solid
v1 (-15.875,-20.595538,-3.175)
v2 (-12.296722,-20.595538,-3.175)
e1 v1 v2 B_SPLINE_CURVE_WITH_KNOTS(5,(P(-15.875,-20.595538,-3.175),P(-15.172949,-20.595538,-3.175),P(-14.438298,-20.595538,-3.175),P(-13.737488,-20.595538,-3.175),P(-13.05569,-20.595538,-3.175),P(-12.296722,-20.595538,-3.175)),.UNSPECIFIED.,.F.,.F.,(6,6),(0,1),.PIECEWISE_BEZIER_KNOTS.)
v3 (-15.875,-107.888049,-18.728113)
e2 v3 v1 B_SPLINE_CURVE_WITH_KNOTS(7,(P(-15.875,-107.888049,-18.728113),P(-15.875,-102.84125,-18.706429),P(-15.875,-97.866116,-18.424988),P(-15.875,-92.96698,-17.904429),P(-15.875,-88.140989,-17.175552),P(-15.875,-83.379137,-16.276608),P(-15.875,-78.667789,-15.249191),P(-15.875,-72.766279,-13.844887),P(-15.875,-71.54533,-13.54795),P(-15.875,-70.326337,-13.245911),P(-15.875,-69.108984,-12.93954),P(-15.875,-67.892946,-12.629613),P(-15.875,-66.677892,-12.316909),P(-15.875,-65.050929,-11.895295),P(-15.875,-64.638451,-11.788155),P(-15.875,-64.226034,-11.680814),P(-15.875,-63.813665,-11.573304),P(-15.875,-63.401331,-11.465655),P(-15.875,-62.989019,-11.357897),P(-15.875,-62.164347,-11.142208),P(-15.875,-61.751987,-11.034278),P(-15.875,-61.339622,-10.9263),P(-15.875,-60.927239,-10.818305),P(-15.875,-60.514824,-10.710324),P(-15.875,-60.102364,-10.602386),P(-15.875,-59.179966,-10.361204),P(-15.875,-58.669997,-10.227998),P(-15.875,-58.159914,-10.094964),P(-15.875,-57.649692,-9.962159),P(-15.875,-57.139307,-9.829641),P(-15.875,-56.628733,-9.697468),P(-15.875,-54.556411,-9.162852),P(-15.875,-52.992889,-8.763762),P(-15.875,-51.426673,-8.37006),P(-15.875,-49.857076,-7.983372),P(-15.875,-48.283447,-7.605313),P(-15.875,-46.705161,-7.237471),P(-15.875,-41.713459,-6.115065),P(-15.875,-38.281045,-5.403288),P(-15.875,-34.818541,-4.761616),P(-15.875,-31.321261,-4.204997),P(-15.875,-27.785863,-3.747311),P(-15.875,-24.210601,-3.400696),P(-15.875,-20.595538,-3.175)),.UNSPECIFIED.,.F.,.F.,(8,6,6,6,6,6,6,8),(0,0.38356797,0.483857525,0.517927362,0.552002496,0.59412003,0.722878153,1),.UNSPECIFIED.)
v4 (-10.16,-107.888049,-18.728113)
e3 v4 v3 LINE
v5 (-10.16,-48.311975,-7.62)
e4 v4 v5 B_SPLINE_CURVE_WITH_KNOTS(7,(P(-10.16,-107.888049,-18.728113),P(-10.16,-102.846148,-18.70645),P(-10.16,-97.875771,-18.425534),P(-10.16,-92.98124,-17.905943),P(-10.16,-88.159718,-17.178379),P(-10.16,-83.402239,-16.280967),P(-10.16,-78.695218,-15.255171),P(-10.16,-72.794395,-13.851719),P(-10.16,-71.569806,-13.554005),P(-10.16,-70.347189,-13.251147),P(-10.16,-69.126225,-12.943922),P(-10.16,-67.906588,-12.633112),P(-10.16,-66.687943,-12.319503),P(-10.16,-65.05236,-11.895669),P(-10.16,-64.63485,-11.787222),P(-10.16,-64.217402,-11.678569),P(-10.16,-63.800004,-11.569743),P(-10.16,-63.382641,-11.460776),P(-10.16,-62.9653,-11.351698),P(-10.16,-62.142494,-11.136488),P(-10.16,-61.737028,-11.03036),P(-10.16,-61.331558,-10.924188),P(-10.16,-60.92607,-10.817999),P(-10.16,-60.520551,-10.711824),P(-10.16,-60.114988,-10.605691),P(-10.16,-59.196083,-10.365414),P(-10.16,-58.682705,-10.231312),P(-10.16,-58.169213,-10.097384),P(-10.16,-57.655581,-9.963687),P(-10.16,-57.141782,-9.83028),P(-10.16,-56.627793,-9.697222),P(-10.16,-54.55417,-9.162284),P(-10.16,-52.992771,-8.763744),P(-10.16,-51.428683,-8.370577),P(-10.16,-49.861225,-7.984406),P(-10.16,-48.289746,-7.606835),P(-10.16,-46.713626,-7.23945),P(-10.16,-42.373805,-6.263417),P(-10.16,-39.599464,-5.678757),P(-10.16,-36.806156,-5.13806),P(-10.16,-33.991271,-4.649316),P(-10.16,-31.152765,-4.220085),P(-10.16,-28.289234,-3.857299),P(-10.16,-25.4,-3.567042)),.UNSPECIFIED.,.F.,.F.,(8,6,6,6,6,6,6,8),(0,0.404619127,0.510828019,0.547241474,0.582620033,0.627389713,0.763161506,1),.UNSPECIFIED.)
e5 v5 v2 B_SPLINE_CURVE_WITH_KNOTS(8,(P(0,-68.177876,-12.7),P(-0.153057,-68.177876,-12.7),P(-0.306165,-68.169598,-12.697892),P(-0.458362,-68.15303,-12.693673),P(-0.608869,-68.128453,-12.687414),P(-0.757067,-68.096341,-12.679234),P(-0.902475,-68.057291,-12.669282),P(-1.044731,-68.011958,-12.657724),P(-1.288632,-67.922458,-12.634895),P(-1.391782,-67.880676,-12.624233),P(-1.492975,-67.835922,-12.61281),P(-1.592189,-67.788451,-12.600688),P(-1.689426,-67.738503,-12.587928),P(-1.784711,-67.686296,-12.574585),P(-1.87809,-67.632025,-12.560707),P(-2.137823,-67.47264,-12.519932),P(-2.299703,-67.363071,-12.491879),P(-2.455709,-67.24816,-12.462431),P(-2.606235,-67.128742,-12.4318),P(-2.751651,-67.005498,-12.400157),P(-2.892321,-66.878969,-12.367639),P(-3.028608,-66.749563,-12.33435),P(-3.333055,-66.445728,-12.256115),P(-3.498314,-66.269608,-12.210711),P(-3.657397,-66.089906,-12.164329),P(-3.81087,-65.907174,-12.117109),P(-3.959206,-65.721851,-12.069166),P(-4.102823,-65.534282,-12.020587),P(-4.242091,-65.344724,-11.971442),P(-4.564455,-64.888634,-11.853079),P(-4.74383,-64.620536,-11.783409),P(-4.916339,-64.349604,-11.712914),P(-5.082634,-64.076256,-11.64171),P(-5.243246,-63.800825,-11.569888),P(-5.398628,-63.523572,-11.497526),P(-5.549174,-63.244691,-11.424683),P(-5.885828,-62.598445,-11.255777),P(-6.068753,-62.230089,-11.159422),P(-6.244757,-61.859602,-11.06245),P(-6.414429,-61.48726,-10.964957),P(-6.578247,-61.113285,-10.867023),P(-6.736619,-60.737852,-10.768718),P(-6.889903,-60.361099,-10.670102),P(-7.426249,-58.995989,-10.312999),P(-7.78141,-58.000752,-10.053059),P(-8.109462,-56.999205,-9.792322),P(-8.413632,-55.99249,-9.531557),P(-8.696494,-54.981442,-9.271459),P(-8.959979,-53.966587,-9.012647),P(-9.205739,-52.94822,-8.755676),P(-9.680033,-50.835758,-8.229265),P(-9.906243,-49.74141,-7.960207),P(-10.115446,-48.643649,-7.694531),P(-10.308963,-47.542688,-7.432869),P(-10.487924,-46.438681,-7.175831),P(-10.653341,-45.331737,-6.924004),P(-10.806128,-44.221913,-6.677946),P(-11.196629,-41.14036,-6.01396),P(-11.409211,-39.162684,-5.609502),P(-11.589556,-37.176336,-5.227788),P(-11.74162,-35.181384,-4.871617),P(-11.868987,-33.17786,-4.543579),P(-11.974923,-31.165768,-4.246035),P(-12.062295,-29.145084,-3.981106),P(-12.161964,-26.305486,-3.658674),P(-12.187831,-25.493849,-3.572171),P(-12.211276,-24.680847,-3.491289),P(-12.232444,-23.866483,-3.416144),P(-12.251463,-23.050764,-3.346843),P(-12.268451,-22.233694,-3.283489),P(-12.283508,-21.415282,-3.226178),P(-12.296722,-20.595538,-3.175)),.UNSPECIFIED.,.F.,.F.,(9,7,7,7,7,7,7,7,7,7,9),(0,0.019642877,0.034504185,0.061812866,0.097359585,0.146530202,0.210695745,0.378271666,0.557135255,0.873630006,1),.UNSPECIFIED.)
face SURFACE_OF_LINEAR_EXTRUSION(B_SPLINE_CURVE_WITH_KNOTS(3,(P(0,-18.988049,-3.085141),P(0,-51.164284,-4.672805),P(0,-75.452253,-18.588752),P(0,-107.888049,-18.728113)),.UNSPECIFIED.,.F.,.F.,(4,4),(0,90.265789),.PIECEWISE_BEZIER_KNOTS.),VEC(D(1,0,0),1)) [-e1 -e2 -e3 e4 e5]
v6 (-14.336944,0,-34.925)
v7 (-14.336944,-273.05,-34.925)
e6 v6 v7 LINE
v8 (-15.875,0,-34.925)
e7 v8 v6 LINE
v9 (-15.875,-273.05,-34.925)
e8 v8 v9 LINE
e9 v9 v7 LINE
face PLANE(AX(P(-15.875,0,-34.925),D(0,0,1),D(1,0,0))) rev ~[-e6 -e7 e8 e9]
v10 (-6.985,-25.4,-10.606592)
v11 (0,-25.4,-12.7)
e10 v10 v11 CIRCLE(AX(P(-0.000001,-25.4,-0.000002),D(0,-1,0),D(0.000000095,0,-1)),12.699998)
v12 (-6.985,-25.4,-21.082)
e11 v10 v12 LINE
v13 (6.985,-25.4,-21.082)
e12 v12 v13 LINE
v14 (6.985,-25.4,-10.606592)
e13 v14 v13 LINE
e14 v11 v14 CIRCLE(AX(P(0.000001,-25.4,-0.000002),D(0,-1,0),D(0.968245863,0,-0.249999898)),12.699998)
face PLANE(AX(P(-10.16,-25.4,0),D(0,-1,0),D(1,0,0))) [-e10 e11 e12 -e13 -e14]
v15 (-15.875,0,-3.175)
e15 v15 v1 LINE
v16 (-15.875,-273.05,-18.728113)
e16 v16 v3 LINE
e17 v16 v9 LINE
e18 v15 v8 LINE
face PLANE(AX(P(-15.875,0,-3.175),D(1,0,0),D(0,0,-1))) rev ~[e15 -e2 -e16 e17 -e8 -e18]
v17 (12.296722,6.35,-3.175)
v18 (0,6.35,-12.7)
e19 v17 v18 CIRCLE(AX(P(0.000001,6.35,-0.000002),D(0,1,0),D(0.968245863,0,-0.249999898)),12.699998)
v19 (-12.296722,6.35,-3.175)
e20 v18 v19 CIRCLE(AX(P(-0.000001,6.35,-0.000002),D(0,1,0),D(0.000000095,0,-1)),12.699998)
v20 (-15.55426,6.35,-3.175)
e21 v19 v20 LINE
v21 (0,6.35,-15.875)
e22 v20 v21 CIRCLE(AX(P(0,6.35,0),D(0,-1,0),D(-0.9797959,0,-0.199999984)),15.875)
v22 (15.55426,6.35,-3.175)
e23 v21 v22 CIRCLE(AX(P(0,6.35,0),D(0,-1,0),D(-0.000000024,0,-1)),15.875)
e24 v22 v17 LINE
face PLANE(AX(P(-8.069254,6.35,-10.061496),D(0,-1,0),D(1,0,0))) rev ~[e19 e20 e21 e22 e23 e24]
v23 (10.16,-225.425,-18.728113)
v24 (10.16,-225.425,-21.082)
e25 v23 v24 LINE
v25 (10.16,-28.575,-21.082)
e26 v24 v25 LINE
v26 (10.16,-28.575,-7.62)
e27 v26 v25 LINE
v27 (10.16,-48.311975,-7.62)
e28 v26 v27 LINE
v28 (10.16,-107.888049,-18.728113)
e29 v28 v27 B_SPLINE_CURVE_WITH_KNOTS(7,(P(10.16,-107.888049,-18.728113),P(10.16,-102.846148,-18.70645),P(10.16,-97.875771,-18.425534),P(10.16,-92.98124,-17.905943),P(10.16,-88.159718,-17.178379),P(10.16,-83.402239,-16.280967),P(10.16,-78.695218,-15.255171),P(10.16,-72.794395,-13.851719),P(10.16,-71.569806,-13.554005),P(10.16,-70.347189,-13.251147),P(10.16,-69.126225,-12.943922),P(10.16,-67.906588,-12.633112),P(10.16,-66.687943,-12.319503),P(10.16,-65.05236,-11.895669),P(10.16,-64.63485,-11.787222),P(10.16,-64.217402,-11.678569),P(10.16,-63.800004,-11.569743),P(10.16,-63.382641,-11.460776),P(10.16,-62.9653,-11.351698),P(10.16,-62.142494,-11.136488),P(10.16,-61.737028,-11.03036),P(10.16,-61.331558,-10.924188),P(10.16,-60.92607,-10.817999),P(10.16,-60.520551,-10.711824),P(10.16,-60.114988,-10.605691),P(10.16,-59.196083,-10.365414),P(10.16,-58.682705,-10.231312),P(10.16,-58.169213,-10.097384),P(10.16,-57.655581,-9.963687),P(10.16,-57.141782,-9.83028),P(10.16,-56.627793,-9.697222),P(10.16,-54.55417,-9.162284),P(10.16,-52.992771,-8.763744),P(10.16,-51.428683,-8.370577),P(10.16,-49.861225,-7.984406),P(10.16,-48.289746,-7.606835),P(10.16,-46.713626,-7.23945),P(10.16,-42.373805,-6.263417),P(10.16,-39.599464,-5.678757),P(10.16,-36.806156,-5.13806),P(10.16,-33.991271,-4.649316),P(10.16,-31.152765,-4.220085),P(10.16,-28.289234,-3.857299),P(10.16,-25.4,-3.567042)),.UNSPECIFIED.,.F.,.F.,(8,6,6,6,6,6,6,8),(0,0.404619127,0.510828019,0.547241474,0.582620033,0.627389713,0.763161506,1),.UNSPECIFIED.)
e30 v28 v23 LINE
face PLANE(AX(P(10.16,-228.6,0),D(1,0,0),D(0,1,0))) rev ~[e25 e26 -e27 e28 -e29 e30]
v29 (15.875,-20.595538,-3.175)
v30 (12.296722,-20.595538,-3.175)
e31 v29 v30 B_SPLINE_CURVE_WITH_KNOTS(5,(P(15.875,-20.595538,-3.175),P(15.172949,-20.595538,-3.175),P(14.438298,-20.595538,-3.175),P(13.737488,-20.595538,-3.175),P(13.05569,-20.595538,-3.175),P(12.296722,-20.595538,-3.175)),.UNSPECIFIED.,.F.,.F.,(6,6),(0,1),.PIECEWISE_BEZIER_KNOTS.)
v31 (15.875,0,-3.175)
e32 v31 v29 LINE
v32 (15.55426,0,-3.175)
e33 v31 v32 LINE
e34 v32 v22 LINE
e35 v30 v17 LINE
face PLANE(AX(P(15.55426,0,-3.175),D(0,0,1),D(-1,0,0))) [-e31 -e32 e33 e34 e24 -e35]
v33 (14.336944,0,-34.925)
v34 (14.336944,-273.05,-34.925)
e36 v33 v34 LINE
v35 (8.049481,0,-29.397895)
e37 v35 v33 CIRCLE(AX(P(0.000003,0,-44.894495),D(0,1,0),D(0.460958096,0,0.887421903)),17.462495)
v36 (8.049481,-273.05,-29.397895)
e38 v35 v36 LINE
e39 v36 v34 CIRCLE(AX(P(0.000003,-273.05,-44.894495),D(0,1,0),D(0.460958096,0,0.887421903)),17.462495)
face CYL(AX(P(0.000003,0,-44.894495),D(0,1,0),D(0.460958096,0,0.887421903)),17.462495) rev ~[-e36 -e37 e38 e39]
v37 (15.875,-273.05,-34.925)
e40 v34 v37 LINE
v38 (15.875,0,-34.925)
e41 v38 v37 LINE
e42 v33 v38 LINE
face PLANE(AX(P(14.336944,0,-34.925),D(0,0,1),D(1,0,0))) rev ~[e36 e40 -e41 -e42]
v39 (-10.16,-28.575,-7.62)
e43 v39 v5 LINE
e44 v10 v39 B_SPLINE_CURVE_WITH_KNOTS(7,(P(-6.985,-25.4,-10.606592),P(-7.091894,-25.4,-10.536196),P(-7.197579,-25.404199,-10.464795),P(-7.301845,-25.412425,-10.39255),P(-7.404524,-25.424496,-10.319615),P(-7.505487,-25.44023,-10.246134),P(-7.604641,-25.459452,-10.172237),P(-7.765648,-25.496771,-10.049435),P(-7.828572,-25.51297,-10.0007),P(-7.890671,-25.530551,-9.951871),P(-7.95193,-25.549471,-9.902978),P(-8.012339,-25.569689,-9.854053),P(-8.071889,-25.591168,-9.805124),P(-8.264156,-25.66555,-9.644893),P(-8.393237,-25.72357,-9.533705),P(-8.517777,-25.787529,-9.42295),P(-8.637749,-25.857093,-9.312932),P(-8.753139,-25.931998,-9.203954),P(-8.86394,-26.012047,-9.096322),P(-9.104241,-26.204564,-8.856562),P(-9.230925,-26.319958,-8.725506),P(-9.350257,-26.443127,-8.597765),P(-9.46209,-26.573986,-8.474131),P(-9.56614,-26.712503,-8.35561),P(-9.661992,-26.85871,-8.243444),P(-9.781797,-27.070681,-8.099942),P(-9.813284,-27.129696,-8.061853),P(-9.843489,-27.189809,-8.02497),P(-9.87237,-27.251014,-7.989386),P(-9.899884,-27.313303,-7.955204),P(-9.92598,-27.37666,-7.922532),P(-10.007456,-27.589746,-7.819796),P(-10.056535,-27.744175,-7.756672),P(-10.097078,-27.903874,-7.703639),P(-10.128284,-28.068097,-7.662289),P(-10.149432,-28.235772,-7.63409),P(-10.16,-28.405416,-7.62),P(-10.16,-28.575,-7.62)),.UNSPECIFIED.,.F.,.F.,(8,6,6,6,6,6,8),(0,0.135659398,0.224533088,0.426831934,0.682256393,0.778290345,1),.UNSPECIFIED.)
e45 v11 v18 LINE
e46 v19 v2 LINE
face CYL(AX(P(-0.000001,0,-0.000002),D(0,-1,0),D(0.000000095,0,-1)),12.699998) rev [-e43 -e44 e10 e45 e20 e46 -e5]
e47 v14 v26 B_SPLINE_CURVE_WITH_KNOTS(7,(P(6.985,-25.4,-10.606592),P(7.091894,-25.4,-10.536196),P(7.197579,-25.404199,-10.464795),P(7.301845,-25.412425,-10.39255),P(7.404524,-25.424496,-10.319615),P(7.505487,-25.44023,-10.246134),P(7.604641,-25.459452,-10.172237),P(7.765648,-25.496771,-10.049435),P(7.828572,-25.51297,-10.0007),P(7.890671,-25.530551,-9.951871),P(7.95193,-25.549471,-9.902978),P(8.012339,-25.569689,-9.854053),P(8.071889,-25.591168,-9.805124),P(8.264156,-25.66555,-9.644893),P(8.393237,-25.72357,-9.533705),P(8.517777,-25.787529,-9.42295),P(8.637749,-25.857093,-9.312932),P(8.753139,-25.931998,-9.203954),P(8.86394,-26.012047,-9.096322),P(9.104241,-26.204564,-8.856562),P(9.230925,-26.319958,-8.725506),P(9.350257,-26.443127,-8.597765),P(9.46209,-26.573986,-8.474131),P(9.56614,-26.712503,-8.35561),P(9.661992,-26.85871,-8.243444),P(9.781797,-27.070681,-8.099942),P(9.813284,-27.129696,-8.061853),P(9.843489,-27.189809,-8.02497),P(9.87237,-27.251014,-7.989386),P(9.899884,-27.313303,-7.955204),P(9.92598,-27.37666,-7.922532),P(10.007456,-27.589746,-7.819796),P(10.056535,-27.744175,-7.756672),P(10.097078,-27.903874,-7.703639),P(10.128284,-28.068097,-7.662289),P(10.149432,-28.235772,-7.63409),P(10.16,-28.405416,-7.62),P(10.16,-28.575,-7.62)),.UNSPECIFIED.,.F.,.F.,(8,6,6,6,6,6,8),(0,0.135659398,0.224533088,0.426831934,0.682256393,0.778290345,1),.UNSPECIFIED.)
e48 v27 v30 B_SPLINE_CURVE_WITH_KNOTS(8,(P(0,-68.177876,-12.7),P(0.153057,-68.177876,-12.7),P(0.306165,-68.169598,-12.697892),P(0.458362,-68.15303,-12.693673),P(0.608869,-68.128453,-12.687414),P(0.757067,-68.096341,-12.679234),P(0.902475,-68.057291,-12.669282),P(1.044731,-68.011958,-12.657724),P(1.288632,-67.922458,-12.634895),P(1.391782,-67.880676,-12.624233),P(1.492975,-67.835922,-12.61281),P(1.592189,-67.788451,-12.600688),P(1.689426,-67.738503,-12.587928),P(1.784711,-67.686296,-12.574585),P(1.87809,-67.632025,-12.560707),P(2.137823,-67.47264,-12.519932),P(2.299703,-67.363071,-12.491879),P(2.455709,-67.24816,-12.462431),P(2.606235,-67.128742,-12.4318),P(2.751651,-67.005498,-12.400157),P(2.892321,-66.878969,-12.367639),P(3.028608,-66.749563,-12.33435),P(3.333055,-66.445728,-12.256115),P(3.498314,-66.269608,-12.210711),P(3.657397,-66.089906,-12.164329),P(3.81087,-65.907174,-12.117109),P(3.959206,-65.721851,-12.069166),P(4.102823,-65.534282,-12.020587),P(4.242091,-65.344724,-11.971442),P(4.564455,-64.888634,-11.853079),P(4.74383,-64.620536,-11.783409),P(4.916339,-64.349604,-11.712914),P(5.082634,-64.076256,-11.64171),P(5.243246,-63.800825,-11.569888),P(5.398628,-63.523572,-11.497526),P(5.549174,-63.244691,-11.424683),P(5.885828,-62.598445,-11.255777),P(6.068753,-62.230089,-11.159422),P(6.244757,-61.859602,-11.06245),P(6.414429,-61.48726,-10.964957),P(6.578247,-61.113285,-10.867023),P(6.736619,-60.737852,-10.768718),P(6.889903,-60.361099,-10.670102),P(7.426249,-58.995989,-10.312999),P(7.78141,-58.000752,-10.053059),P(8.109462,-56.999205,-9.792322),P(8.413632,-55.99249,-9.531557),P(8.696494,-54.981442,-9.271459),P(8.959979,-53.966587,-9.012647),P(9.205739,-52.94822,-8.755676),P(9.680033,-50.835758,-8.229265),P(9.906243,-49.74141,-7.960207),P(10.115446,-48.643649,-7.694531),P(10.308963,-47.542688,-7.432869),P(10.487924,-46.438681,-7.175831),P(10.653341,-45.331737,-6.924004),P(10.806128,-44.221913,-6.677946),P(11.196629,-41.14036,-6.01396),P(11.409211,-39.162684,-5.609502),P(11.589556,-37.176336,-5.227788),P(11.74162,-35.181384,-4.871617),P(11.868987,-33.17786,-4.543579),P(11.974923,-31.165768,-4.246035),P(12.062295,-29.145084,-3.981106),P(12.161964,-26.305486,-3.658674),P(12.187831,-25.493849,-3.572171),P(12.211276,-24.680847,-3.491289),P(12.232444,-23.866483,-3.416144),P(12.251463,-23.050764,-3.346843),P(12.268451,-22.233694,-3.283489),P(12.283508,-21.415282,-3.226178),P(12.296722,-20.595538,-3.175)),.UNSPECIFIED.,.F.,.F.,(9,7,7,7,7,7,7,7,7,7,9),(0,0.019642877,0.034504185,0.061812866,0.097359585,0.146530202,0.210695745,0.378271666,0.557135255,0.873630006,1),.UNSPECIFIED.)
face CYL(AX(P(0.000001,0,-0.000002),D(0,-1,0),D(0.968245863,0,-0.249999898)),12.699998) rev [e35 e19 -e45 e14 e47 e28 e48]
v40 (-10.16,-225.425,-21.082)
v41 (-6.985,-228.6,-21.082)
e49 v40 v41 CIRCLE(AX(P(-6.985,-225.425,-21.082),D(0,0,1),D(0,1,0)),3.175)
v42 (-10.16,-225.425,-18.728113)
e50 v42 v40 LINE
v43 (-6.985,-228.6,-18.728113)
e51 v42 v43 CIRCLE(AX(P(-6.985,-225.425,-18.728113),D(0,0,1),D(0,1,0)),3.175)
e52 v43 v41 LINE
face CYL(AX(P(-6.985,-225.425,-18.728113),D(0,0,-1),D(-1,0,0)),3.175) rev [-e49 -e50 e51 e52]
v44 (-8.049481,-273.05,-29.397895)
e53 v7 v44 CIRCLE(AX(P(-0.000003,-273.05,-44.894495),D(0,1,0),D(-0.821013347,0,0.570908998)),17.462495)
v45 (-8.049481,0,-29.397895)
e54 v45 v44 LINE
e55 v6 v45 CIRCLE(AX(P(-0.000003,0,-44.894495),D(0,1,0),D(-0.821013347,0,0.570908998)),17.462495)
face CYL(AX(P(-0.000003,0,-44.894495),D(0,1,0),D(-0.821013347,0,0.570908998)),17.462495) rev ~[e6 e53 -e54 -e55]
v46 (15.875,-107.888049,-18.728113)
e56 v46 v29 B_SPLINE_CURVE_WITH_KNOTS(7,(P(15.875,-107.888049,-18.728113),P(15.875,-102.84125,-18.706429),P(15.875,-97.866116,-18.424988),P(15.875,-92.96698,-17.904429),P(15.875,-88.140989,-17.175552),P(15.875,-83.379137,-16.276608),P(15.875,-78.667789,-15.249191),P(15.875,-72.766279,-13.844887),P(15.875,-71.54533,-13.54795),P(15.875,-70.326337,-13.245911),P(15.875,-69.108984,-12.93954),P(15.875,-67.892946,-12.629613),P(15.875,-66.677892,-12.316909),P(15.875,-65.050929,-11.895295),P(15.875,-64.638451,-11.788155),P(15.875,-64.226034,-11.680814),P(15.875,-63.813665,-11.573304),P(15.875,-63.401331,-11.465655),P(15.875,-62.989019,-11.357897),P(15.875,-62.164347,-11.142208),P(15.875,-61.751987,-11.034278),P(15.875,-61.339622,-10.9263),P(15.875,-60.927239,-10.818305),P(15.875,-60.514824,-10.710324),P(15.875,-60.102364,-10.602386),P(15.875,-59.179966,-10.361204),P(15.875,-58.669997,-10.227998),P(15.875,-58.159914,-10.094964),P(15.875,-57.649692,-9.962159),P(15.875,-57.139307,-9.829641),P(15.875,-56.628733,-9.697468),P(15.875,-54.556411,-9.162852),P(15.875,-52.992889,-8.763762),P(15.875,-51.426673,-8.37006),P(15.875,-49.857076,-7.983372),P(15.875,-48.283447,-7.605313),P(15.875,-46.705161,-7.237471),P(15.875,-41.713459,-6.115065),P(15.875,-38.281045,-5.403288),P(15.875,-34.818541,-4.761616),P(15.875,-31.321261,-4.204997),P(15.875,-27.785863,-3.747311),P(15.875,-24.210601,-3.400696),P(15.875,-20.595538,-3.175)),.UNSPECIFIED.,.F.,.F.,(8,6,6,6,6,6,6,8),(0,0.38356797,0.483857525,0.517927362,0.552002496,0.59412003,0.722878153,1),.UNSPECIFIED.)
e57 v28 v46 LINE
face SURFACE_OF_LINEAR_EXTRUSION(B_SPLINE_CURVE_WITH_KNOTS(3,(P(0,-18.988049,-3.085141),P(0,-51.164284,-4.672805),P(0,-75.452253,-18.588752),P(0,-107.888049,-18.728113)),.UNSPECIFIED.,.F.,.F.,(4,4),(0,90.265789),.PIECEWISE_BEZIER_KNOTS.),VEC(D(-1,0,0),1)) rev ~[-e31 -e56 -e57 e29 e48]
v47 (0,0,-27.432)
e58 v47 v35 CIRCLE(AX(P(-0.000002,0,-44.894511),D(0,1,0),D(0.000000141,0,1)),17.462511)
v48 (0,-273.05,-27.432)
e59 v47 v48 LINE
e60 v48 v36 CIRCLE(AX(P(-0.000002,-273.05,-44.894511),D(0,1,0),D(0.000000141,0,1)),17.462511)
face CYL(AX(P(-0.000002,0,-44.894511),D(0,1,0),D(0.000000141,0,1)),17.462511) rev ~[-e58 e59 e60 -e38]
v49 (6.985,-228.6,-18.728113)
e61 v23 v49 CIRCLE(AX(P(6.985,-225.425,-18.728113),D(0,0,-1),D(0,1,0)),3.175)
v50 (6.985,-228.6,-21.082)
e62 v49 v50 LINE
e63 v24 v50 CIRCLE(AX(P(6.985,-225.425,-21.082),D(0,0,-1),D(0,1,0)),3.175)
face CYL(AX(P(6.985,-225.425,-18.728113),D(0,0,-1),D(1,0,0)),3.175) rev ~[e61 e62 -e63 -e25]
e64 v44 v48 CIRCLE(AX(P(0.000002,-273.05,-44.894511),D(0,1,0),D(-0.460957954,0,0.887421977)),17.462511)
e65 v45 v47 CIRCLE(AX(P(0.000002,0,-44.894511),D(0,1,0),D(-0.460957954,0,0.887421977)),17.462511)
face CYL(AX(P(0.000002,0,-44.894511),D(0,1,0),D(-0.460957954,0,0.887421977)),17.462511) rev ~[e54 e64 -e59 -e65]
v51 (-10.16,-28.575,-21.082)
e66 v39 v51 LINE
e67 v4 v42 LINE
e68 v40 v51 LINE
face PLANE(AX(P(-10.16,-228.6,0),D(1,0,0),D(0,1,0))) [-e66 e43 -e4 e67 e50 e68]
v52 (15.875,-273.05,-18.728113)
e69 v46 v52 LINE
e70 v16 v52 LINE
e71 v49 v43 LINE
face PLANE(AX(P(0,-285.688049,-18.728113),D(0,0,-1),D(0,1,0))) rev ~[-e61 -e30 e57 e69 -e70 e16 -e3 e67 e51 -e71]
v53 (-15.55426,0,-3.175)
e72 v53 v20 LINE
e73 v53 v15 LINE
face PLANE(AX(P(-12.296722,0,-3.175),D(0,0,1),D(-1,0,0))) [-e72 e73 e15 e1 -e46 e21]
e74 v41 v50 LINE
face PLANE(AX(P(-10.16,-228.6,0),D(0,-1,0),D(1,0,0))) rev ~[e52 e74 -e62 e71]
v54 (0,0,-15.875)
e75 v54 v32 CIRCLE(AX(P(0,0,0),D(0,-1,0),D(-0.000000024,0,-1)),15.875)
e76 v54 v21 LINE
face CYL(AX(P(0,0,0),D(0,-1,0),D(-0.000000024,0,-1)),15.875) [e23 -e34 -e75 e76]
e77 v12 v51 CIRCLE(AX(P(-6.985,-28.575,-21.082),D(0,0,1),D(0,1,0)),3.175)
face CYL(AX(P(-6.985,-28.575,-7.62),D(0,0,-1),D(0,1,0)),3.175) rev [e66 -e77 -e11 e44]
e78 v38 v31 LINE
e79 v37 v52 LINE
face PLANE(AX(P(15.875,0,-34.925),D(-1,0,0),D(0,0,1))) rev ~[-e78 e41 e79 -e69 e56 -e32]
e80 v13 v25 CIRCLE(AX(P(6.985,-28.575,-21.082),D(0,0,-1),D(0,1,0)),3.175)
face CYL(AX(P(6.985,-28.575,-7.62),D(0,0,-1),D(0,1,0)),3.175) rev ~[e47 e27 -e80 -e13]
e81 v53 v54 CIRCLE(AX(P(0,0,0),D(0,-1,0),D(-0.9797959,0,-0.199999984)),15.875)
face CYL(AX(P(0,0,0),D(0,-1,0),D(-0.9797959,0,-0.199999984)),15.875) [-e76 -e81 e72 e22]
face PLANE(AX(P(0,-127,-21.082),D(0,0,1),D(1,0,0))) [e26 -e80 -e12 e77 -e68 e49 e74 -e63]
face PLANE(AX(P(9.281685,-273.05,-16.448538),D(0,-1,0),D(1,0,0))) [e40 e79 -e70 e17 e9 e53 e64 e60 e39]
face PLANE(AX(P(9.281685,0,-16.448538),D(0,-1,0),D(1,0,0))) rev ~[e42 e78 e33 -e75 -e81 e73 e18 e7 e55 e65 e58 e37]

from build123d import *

# Parameters (mm, degrees)
F1_DEPTH = 273.05
F2_DEPTH = 6.35
F4_DEPTH = 25.4
F5_W     = 20.32
F5_H     = 203.2
F6_DEPTH = 21.082
F7_R     = 3.175


with BuildPart() as f1:
    # F0 (on Front) → F1 (new body)
    with BuildSketch(Plane.XZ):
        with BuildLine():
            Line((15.875, -3.175), (15.55426, -3.175))
            ThreePointArc((15.55426, -3.175), (10.040232, -12.296722), (0, -15.875))
            Line((0, -15.875), (0, -26.67))
            ThreePointArc((0, -26.67), (8.358623, -25.326317), (15.875, -21.430662))
            Line((15.875, -21.430662), (15.875, -3.175))
        make_face()
        with BuildLine():
            ThreePointArc((0, -15.875), (-10.040232, -12.296722), (-15.55426, -3.175))
            Line((-15.55426, -3.175), (-15.875, -3.175))
            Line((-15.875, -3.175), (-15.875, -21.430662))
            ThreePointArc((-15.875, -21.430662), (-8.358623, -25.326317), (0, -26.67))
            Line((0, -26.67), (0, -15.875))
        make_face()
        with BuildLine():
            ThreePointArc((15.875, -21.430662), (8.358623, -25.326317), (0, -26.67))
            Line((0, -26.67), (0, -27.432))
            ThreePointArc((0, -27.432), (4.143033, -27.930592), (8.049481, -29.397895))
            ThreePointArc((8.049481, -29.397895), (12.080918, -27.983599), (15.875, -26.019508))
            Line((15.875, -26.019508), (15.875, -21.430662))
        make_face()
        with BuildLine():
            ThreePointArc((-8.049481, -29.397895), (-12.080918, -27.983599), (-15.875, -26.019508))
            Line((-15.875, -26.019508), (-15.875, -34.925))
            Line((-15.875, -34.925), (-14.336944, -34.925))
            ThreePointArc((-14.336944, -34.925), (-11.529321, -31.779102), (-8.049481, -29.397895))
        make_face()
        with BuildLine():
            Line((0, -27.432), (0, -26.67))
            ThreePointArc((0, -26.67), (-8.358623, -25.326317), (-15.875, -21.430662))
            Line((-15.875, -21.430662), (-15.875, -26.019508))
            ThreePointArc((-15.875, -26.019508), (-12.080918, -27.983599), (-8.049481, -29.397895))
            ThreePointArc((-8.049481, -29.397895), (-4.143033, -27.930592), (0, -27.432))
        make_face()
        with BuildLine():
            Line((15.875, -34.925), (15.875, -26.019508))
            ThreePointArc((15.875, -26.019508), (12.080918, -27.983599), (8.049481, -29.397895))
            ThreePointArc((8.049481, -29.397895), (11.529321, -31.779102), (14.336944, -34.925))
            Line((14.336944, -34.925), (15.875, -34.925))
        make_face()
        with BuildLine():
            ThreePointArc((0, -12.7), (-7.77713, -10.040232), (-12.296722, -3.175))
            Line((-12.296722, -3.175), (-15.55426, -3.175))
            ThreePointArc((-15.55426, -3.175), (-10.040232, -12.296722), (0, -15.875))
            Line((0, -15.875), (0, -12.7))
        make_face()
        with BuildLine():
            Line((15.55426, -3.175), (12.296722, -3.175))
            ThreePointArc((12.296722, -3.175), (7.77713, -10.040232), (0, -12.7))
            Line((0, -12.7), (0, -15.875))
            ThreePointArc((0, -15.875), (10.040232, -12.296722), (15.55426, -3.175))
        make_face()
    extrude(amount=F1_DEPTH)

    # F0 (on Front) → F2 (join)
    with BuildSketch(Plane.XZ):
        with BuildLine():
            ThreePointArc((0, -12.7), (-7.77713, -10.040232), (-12.296722, -3.175))
            Line((-12.296722, -3.175), (-15.55426, -3.175))
            ThreePointArc((-15.55426, -3.175), (-10.040232, -12.296722), (0, -15.875))
            Line((0, -15.875), (0, -12.7))
        make_face()
        with BuildLine():
            Line((15.55426, -3.175), (12.296722, -3.175))
            ThreePointArc((12.296722, -3.175), (7.77713, -10.040232), (0, -12.7))
            Line((0, -12.7), (0, -15.875))
            ThreePointArc((0, -15.875), (10.040232, -12.296722), (15.55426, -3.175))
        make_face()
    extrude(amount=-F2_DEPTH)

    # F3 (on Right) → F4 (cut, symmetric)
    with BuildSketch(Plane.YZ):
        with BuildLine():
            Line((-285.688049, -3.085141), (-285.688049, -18.728113))
            Line((-285.688049, -18.728113), (-107.888049, -18.728113))
            add(Edge.make_bspline(
                [(-18.988049, -3.085141), (-51.164284, -4.672805), (-75.452253, -18.588752), (-107.888049, -18.728113)],
                knots=[0, 0, 0, 0, 90.265789, 90.265789, 90.265789, 90.265789], degree=3))
            Line((-18.988049, -3.085141), (-285.688049, -3.085141))
        make_face()
    extrude(amount=F4_DEPTH, both=True, mode=Mode.SUBTRACT)

    # F5 (on Top) → F6 (cut)
    with BuildSketch(Plane.XY):
        with Locations((0, -127)):
            Rectangle(F5_W, F5_H)
    extrude(amount=-F6_DEPTH, mode=Mode.SUBTRACT)

    # F7
    f7_edges = [f1.edges().sort_by_distance(p)[0] for p in [
        (-10.16, -25.4, -14.351),
        (10.16, -25.4, -14.351),
        (-10.16, -228.6, -19.905056),
        (10.16, -228.6, -19.905056),
    ]]
    fillet(f7_edges, radius=F7_R)


solid = f1.part
